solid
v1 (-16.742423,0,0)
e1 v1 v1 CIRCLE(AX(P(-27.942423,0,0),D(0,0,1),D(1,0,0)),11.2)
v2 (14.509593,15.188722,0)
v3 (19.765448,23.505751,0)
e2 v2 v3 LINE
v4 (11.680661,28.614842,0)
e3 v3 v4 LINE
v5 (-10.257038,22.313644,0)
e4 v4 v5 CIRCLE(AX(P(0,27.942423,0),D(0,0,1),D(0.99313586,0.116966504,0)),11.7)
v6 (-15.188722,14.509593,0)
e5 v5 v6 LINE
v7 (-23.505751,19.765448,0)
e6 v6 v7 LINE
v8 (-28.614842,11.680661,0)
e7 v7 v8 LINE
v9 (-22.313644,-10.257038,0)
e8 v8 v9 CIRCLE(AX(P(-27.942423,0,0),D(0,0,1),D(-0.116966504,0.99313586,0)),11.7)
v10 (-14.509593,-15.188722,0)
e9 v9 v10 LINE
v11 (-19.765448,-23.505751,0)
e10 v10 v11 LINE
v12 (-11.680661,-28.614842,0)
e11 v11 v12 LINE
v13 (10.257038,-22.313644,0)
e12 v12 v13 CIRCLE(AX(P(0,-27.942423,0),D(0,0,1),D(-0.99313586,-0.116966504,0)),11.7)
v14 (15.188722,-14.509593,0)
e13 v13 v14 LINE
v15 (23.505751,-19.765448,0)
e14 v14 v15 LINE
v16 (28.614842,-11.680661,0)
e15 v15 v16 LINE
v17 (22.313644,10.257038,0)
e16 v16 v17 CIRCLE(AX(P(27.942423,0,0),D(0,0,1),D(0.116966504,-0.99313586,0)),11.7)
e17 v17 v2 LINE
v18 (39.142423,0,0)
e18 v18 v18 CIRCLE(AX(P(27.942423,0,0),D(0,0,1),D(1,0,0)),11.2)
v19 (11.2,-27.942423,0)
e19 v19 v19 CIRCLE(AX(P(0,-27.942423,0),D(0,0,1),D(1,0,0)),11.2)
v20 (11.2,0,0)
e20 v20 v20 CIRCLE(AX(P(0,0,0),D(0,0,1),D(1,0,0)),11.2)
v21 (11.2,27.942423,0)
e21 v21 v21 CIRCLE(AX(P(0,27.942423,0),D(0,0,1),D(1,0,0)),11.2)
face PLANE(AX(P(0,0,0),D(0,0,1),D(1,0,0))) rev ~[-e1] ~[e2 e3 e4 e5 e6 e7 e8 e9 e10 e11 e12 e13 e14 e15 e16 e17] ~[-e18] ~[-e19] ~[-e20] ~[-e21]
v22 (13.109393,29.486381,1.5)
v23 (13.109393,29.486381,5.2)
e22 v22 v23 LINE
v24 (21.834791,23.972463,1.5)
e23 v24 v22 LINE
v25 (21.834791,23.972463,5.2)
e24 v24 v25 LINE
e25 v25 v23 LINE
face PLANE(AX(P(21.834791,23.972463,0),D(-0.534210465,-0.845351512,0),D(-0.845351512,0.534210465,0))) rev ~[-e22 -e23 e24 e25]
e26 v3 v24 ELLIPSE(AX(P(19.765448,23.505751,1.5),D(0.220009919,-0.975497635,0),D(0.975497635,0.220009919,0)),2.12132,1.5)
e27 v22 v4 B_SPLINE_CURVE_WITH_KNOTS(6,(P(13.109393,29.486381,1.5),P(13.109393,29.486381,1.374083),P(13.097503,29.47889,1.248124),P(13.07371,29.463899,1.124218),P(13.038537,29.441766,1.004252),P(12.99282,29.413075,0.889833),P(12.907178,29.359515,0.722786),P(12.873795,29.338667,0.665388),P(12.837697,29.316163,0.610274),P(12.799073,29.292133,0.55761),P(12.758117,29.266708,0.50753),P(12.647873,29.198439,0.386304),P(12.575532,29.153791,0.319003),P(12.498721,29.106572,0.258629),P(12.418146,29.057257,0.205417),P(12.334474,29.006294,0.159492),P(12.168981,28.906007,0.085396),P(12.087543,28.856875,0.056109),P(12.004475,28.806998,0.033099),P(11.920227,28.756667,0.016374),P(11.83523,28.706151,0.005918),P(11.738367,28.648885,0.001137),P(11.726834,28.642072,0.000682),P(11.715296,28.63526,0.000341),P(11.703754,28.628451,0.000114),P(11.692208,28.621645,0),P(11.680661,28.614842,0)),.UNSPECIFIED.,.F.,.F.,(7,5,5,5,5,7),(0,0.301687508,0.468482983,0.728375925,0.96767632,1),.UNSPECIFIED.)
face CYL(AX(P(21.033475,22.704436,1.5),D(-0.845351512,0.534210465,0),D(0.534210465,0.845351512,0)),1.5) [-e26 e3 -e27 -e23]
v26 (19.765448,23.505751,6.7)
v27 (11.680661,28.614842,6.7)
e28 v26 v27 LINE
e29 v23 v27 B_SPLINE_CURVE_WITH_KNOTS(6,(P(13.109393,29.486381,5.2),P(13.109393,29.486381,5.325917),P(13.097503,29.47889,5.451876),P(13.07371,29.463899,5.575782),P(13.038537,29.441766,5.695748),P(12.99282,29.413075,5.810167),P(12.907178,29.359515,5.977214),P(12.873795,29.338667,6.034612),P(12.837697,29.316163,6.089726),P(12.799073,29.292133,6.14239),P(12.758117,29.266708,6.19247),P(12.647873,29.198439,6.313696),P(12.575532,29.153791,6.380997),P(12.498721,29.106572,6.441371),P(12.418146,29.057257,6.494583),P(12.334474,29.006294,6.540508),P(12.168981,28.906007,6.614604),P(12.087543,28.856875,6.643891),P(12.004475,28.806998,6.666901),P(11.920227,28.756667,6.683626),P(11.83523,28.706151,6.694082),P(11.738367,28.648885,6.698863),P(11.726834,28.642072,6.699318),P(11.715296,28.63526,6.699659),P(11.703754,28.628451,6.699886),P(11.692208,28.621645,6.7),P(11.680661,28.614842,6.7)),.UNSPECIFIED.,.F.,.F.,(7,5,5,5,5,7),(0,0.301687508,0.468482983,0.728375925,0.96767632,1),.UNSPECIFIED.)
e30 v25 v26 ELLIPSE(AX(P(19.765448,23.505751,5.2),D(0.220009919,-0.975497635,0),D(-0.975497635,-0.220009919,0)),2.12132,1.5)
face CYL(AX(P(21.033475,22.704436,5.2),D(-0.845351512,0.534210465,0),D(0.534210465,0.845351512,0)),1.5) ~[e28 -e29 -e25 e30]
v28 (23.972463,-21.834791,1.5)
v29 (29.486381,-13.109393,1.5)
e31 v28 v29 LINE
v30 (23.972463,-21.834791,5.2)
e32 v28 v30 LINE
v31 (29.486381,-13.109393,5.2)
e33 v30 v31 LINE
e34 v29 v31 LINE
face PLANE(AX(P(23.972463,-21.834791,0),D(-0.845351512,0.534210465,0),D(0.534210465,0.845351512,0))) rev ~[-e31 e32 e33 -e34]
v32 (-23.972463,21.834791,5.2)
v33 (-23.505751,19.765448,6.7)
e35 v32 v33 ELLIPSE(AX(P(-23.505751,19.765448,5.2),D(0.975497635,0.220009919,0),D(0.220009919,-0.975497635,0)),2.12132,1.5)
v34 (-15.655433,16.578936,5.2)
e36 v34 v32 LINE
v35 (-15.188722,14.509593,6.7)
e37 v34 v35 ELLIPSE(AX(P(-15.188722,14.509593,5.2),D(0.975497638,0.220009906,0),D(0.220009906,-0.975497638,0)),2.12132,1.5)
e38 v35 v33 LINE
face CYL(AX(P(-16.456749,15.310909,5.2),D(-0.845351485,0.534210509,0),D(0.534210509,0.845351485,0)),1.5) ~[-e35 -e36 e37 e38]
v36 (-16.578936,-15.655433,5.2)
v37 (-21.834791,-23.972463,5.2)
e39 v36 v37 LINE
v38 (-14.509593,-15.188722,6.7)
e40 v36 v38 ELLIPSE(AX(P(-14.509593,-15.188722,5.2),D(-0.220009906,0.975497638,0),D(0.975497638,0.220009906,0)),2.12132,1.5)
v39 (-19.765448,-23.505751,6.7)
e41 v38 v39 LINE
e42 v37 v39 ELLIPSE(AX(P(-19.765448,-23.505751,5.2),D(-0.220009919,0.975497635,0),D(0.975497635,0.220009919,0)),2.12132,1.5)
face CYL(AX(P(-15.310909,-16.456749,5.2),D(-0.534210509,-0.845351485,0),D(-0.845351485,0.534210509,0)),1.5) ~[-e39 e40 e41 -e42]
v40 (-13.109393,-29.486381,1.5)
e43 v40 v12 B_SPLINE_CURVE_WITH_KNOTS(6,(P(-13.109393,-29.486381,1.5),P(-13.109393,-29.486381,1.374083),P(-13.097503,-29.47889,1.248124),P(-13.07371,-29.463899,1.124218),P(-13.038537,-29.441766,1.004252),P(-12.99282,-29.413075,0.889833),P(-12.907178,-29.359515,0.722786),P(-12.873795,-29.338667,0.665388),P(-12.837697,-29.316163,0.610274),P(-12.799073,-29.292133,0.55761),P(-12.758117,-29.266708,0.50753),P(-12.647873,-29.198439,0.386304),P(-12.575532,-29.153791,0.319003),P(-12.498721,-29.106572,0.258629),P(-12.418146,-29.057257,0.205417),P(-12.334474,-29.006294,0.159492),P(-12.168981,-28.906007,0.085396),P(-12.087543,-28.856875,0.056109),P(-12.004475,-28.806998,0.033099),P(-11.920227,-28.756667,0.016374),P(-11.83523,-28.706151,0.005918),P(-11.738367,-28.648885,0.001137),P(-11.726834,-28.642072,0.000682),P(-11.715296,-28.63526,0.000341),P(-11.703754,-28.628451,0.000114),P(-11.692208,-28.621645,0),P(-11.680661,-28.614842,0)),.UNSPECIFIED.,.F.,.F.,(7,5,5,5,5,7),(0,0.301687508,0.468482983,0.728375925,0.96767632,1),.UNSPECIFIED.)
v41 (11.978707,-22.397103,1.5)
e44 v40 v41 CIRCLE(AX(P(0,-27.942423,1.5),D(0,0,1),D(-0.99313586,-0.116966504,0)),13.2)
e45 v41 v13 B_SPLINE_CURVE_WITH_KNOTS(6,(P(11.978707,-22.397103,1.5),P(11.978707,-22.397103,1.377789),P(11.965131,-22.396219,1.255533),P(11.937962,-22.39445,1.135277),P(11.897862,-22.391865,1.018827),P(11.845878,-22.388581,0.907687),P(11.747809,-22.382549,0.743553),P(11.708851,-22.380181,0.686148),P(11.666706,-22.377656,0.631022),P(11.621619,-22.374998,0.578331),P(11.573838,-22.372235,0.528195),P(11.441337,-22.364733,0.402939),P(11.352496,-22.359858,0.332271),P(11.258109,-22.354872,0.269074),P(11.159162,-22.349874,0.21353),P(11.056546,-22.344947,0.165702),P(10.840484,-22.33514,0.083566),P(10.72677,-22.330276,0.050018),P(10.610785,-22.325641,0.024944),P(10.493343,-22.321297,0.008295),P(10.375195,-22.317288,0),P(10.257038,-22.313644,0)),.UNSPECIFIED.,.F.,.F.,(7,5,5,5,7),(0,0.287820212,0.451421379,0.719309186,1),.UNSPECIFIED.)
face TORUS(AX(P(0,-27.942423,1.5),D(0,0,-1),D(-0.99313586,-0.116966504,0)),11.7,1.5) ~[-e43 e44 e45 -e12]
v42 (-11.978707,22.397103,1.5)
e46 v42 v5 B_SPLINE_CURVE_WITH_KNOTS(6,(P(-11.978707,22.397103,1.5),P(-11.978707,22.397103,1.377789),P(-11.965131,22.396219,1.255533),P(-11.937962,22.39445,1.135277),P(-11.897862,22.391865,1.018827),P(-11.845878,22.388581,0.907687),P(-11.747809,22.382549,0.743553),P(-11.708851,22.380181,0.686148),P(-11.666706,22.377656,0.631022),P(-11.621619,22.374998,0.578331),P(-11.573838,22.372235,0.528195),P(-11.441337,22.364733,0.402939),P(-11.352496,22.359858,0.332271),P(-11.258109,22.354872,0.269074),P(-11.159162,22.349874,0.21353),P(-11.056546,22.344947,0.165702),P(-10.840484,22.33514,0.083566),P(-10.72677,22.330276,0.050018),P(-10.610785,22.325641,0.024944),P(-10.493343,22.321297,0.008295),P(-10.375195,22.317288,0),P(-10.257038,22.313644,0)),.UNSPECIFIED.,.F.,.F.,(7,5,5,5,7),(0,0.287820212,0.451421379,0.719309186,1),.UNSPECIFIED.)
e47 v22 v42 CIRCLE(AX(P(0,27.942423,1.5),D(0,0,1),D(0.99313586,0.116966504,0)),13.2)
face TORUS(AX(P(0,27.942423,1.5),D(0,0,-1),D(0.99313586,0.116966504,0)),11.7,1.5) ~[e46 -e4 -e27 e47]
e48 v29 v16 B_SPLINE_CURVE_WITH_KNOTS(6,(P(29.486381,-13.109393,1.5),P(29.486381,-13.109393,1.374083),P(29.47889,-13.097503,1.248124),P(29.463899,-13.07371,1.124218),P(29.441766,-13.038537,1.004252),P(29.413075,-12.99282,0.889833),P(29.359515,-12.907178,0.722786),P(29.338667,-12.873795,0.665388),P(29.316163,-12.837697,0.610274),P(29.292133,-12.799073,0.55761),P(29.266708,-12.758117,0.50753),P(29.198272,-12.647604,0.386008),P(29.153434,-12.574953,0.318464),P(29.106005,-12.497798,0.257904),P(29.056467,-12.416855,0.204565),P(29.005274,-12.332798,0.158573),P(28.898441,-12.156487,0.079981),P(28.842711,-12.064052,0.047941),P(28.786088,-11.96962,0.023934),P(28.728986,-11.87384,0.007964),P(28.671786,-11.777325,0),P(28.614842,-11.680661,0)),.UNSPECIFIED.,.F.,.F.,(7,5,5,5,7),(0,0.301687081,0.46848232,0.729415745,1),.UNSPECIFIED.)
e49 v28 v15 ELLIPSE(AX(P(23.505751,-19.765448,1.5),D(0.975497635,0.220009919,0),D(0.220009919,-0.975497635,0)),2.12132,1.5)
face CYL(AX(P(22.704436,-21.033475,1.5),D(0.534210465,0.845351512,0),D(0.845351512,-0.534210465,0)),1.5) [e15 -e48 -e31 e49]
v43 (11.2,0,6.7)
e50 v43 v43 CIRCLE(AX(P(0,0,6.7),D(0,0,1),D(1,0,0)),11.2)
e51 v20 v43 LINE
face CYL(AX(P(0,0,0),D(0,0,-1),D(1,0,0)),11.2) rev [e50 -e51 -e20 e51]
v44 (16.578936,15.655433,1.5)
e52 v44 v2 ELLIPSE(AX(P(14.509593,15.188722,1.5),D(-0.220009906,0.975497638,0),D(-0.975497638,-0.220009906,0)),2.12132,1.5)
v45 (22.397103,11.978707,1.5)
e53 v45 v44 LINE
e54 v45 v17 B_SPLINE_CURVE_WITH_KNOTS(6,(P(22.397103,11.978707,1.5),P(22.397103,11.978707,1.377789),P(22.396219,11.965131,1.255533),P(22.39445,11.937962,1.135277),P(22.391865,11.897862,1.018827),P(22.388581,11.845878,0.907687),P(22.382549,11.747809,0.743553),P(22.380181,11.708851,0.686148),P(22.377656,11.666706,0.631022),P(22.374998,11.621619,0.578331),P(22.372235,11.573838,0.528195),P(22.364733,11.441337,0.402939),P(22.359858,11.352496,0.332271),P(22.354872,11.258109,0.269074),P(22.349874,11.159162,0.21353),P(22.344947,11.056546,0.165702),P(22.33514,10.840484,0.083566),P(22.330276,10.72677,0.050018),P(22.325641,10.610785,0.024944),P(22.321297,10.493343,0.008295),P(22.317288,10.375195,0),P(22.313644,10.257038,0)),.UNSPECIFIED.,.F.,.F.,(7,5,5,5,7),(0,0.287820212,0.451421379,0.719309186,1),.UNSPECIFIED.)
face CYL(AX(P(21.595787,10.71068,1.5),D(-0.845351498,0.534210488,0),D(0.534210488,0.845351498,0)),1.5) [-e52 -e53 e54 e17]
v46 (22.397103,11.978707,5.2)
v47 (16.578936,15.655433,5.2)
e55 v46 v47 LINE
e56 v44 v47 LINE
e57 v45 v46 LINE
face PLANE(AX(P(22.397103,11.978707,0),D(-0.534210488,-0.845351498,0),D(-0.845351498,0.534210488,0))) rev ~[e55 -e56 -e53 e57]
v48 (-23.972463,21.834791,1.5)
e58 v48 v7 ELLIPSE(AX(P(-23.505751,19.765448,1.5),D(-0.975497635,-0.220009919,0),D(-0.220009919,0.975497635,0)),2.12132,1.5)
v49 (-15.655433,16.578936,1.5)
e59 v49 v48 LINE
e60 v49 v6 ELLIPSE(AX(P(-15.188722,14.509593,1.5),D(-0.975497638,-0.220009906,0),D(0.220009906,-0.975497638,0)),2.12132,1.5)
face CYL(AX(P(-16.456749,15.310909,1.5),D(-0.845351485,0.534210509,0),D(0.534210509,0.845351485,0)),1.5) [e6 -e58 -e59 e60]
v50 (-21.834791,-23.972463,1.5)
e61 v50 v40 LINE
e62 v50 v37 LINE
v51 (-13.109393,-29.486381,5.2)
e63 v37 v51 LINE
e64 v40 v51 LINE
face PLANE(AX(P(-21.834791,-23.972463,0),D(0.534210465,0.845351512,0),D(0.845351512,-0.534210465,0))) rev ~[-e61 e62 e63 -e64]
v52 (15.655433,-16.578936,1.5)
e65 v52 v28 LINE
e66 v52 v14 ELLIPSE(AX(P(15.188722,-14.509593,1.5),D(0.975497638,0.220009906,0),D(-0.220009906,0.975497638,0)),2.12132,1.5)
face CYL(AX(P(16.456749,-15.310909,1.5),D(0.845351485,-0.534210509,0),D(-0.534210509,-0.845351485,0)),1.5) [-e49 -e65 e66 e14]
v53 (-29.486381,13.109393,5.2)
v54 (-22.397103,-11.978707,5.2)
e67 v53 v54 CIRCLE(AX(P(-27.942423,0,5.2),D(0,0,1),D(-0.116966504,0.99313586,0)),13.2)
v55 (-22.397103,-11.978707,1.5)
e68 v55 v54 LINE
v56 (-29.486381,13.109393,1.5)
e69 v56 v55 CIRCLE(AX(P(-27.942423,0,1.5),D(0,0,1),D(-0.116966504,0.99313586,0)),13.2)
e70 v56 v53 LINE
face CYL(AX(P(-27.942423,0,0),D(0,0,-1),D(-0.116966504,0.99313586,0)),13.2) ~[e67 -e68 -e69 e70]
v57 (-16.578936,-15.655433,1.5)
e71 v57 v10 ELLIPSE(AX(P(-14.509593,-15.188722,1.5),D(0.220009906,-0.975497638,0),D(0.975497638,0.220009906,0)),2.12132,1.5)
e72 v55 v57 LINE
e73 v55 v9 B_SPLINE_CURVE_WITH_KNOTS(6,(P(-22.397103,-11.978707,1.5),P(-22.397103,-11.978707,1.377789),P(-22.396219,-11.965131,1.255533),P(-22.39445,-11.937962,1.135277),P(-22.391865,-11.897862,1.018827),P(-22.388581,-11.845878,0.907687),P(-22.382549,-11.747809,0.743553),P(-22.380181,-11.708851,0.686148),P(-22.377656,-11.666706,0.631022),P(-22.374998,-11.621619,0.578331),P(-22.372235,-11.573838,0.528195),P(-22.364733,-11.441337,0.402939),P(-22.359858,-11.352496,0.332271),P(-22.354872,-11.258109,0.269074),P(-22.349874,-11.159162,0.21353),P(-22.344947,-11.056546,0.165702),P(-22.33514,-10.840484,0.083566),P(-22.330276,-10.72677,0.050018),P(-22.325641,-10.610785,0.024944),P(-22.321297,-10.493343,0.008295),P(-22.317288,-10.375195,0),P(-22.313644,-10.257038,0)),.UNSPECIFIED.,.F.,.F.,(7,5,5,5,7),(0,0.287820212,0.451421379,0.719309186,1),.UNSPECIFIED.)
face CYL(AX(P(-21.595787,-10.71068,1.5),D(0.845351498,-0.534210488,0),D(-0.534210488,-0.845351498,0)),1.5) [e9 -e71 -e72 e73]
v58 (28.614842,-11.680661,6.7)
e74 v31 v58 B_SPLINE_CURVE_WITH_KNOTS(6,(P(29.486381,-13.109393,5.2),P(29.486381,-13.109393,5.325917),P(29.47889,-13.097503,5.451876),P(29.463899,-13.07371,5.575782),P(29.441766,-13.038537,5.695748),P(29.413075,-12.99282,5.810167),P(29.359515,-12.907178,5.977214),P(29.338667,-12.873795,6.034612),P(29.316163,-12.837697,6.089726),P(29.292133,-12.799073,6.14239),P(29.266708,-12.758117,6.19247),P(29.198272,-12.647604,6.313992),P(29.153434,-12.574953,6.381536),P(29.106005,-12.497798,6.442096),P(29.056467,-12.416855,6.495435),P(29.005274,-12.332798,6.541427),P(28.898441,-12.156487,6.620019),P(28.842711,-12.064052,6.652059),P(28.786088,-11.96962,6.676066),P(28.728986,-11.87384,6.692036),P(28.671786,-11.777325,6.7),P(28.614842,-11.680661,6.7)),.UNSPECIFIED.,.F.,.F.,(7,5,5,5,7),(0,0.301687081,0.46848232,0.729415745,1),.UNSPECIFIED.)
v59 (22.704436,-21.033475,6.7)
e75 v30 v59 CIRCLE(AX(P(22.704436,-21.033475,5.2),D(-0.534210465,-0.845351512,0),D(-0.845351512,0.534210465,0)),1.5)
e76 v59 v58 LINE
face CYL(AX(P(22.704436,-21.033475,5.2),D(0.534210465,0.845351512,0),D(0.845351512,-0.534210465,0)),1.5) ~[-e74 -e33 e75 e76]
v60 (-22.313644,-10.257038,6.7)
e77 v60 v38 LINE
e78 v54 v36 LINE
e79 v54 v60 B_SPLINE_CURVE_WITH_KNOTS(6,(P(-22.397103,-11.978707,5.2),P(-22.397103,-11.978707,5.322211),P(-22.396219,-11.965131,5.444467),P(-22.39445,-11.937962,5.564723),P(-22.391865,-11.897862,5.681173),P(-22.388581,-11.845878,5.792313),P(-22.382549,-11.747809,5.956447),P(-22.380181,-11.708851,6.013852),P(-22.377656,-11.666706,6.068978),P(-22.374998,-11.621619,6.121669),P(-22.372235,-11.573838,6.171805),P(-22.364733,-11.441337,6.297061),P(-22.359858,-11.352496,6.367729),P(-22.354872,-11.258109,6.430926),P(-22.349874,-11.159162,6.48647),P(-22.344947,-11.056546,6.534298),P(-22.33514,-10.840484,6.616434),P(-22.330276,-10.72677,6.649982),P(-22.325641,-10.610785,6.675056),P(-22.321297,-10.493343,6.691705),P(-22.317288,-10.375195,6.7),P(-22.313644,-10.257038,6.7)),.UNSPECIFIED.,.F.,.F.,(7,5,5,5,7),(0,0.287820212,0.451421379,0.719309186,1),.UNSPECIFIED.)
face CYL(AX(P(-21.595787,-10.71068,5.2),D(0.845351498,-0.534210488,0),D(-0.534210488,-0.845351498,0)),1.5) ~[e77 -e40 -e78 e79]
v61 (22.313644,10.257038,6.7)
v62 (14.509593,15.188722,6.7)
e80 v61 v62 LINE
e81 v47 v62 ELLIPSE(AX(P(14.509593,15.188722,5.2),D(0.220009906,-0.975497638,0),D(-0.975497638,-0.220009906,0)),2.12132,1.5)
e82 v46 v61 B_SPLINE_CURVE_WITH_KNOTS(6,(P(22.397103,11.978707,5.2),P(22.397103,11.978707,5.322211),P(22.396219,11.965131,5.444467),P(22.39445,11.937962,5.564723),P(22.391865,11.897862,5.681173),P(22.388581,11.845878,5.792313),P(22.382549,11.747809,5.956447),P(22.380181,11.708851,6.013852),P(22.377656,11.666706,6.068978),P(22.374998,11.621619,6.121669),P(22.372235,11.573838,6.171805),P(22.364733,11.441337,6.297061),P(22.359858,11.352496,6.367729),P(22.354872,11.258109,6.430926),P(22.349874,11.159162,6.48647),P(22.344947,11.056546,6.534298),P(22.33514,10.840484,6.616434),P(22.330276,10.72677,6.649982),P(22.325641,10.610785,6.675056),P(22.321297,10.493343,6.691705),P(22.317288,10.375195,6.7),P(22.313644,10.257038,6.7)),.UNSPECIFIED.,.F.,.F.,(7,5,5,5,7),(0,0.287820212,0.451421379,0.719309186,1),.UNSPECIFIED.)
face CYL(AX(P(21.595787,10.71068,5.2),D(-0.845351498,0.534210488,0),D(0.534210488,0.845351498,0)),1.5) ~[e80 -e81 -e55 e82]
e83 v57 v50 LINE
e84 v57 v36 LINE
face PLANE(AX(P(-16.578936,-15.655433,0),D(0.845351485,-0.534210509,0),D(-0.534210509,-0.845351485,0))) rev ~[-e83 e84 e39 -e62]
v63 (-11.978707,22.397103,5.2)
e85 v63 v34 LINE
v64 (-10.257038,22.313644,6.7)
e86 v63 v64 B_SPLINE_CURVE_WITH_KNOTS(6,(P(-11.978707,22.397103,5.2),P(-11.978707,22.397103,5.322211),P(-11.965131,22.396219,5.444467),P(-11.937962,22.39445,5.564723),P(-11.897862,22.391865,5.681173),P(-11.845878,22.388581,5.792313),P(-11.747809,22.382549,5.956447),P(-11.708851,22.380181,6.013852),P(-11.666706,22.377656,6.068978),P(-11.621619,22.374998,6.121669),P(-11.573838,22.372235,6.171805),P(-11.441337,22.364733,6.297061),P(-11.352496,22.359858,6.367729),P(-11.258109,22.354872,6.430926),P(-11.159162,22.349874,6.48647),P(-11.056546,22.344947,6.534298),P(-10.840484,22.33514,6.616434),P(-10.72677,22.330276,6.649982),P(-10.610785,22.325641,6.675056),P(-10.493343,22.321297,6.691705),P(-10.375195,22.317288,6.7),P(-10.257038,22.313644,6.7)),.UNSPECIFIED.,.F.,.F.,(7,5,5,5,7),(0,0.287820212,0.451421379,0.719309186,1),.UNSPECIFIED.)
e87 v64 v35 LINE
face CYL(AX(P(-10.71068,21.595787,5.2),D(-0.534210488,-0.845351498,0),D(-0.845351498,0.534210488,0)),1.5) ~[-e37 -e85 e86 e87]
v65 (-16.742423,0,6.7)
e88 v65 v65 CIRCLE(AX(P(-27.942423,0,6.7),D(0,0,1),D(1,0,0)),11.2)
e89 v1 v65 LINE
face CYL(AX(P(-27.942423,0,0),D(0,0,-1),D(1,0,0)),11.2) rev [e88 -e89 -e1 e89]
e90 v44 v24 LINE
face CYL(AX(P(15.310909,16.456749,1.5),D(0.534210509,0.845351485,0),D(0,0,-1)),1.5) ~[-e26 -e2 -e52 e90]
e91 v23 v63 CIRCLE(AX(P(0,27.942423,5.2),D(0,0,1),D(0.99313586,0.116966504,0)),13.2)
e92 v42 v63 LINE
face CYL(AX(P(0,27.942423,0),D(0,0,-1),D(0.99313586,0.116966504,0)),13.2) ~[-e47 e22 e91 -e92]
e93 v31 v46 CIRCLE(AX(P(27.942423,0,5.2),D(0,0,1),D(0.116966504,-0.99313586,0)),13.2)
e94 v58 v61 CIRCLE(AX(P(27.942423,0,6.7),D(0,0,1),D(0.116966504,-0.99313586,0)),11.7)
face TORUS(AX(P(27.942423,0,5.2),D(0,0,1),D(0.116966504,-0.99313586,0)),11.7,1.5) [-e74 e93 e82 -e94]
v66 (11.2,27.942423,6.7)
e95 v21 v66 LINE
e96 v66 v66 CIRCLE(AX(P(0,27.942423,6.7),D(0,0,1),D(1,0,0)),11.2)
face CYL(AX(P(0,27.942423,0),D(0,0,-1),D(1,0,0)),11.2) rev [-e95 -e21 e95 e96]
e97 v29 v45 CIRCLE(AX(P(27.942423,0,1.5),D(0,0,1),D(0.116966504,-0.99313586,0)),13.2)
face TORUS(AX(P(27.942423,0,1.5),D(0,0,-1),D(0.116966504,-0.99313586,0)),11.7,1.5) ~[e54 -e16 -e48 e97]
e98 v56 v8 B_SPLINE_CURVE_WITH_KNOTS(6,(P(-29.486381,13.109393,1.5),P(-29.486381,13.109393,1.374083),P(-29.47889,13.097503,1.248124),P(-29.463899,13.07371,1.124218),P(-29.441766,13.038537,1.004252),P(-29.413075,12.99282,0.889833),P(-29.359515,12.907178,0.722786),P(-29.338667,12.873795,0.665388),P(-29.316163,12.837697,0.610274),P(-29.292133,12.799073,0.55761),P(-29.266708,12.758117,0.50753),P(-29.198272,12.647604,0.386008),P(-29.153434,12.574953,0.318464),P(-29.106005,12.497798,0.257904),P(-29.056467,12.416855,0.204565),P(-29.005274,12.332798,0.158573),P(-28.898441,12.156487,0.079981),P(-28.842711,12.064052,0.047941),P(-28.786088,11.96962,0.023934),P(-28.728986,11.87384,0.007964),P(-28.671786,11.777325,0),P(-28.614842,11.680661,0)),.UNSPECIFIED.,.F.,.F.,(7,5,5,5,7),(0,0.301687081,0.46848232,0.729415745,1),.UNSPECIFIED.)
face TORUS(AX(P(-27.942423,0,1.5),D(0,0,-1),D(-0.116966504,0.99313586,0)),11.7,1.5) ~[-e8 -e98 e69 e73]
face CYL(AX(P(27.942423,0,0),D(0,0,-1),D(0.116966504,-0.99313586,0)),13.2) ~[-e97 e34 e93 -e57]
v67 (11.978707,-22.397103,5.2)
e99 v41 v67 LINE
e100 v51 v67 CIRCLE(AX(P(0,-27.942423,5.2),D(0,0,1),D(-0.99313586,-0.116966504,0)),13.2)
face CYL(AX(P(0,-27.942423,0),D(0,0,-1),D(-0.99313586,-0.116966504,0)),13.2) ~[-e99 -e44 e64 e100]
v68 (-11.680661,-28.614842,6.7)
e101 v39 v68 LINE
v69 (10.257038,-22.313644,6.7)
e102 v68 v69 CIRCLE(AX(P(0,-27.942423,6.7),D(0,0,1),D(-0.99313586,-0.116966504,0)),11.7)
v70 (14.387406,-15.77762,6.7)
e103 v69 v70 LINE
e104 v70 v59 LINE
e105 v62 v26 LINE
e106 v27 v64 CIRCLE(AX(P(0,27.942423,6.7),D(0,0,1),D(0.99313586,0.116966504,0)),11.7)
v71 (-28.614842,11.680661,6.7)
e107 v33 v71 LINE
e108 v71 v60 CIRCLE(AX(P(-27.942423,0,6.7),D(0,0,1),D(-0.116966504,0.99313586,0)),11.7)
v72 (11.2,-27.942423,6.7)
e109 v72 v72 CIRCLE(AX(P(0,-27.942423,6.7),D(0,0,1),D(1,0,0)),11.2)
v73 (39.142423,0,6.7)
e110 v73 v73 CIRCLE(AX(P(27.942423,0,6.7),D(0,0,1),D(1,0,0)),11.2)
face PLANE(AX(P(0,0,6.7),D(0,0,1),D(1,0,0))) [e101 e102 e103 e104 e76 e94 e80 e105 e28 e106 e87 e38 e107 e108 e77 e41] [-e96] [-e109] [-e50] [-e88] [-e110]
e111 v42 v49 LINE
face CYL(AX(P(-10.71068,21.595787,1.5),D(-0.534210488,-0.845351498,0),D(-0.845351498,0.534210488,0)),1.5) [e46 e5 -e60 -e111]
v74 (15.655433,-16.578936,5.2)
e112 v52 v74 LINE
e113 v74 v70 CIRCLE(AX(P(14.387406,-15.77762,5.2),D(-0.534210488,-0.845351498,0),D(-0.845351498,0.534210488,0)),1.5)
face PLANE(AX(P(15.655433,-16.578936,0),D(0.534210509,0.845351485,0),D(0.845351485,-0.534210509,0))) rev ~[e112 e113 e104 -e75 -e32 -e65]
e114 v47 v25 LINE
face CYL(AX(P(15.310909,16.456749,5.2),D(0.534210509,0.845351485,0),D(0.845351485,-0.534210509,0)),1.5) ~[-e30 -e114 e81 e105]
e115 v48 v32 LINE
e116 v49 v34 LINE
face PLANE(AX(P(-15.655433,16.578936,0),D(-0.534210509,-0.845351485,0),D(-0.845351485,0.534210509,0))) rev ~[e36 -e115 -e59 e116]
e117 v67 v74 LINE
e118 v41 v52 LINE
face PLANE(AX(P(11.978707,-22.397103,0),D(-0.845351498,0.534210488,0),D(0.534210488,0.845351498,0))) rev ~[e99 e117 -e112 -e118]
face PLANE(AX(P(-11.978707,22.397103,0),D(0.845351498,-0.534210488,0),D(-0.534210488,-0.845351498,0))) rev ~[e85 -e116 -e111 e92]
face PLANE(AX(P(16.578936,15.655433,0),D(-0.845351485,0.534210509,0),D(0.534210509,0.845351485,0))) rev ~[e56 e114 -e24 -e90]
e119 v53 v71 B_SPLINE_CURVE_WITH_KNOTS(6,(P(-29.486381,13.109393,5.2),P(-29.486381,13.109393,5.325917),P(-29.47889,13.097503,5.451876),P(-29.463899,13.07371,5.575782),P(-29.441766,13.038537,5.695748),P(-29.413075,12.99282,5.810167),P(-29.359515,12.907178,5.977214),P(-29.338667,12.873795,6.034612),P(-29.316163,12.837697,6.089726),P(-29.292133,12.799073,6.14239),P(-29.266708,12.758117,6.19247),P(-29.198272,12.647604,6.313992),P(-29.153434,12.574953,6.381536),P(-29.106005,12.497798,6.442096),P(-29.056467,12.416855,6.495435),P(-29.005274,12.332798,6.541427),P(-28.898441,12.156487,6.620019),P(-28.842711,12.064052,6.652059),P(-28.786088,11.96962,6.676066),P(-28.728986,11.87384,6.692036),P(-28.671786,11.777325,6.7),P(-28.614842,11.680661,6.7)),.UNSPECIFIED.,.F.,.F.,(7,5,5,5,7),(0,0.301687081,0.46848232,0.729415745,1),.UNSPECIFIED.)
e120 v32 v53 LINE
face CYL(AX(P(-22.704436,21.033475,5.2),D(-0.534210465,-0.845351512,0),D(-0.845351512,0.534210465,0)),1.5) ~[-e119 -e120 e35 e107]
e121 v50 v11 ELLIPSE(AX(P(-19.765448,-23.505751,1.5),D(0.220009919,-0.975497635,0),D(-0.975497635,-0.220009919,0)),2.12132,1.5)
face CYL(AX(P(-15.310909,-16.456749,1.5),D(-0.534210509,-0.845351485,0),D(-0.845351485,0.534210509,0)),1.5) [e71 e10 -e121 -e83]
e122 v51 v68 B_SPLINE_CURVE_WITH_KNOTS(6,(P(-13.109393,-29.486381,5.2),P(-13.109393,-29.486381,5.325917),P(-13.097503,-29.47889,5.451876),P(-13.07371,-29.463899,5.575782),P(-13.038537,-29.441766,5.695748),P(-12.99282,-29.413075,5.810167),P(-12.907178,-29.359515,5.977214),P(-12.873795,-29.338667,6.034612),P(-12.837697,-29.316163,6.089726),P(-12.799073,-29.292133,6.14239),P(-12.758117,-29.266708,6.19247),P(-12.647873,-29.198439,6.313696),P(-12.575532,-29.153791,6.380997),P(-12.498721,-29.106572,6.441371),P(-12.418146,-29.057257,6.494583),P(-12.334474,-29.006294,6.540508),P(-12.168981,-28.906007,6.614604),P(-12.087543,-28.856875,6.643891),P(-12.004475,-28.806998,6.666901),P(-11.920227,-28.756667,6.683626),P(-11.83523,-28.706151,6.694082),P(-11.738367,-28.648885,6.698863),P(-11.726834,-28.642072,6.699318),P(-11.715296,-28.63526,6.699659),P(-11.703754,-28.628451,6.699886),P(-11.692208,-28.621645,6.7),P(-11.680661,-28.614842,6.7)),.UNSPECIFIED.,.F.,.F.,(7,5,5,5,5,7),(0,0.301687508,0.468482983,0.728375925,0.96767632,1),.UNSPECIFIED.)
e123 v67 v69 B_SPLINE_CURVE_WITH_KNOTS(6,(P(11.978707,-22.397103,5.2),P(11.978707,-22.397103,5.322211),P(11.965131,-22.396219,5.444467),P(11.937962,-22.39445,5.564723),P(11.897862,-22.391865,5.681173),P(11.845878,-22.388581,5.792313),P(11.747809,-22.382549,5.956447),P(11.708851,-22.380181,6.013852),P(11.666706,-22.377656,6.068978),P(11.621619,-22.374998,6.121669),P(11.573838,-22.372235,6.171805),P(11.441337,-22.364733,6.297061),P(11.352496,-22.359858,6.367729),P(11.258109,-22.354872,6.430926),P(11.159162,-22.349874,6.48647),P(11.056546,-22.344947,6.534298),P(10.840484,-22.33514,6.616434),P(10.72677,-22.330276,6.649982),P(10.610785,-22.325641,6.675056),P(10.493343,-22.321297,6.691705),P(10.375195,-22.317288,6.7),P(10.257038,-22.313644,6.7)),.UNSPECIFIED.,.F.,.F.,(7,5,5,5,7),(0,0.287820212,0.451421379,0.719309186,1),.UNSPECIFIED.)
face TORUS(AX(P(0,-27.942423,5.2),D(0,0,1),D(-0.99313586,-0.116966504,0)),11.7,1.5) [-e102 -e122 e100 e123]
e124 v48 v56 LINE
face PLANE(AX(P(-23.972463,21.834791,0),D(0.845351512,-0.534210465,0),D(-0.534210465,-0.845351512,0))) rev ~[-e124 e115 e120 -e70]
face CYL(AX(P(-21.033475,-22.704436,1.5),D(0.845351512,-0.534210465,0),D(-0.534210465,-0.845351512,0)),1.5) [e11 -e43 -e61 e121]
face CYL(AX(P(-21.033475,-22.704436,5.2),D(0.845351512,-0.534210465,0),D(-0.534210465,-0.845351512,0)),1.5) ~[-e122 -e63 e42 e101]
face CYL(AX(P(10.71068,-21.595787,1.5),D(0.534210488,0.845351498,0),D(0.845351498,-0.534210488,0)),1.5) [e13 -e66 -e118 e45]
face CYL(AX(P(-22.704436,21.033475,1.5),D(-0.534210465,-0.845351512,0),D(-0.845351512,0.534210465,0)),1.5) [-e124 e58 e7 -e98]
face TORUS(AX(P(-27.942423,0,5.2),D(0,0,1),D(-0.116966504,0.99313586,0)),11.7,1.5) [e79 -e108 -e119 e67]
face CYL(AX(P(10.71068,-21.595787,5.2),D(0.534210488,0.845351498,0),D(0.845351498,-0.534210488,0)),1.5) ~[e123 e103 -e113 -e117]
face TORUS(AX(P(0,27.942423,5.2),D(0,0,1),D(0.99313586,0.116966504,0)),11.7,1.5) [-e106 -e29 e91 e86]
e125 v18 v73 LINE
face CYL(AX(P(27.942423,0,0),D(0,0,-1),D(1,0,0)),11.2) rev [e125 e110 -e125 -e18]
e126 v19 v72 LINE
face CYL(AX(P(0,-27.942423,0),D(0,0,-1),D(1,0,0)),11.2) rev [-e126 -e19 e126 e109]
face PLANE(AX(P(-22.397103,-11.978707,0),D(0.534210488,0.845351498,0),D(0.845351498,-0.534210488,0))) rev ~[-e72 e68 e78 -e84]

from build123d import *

# Parameters (mm, degrees)
F0_R     = 11.2
F1_DEPTH = 6.7
F2_R     = 1.5
F3_R     = 1.5


with BuildPart() as f1:
    # F0 (on Top) → F1 (new body)
    with BuildSketch(Plane.XY):
        with BuildLine():
            Line((21.834791, 23.972463), (13.109393, 29.486381))
            ThreePointArc((13.109393, 29.486381), (-3.58944, 40.645018), (-11.978707, 22.397103))
            Line((-11.978707, 22.397103), (-15.655433, 16.578936))
            Line((-15.655433, 16.578936), (-23.972463, 21.834791))
            Line((-23.972463, 21.834791), (-29.486381, 13.109393))
            ThreePointArc((-29.486381, 13.109393), (-40.645018, -3.58944), (-22.397103, -11.978707))
            Line((-22.397103, -11.978707), (-16.578936, -15.655433))
            Line((-16.578936, -15.655433), (-21.834791, -23.972463))
            Line((-21.834791, -23.972463), (-13.109393, -29.486381))
            ThreePointArc((-13.109393, -29.486381), (3.58944, -40.645018), (11.978707, -22.397103))
            Line((11.978707, -22.397103), (15.655433, -16.578936))
            Line((15.655433, -16.578936), (23.972463, -21.834791))
            Line((23.972463, -21.834791), (29.486381, -13.109393))
            ThreePointArc((29.486381, -13.109393), (40.645018, 3.58944), (22.397103, 11.978707))
            Line((22.397103, 11.978707), (16.578936, 15.655433))
            Line((16.578936, 15.655433), (21.834791, 23.972463))
        make_face()
        with Locations((0, -27.942423)):
            Circle(F0_R, mode=Mode.SUBTRACT)
        with Locations((-27.942423, 0)):
            Circle(F0_R, mode=Mode.SUBTRACT)
        Circle(F0_R, mode=Mode.SUBTRACT)
        with Locations((27.942423, 0)):
            Circle(F0_R, mode=Mode.SUBTRACT)
        with Locations((0, 27.942423)):
            Circle(F0_R, mode=Mode.SUBTRACT)
    extrude(amount=F1_DEPTH)

    # F2
    f2_edges = [f1.edges().sort_by_distance(p)[0] for p in [
        (17.472092, 26.729422, 6.7),
        (-3.58944, 40.645018, 6.7),
        (19.488019, 13.81707, 6.7),
        (19.206863, 19.813948, 6.7),
        (40.645018, 3.58944, 6.7),
        (26.729422, -17.472092, 6.7),
        (13.81707, -19.488019, 6.7),
        (3.58944, -40.645018, 6.7),
        (-17.472092, -26.729422, 6.7),
        (-19.488019, -13.81707, 6.7),
        (-19.206863, -19.813948, 6.7),
        (-40.645018, -3.58944, 6.7),
        (-26.729422, 17.472092, 6.7),
        (-13.81707, 19.488019, 6.7),
        (-19.813948, 19.206863, 6.7),
    ]]
    fillet(f2_edges, radius=F2_R)

    # F3
    f3_edges = [f1.edges().sort_by_distance(p)[0] for p in [
        (3.58944, -40.645018, 0),
        (13.81707, -19.488019, 0),
        (19.813948, -19.206863, 0),
        (40.645018, 3.58944, 0),
        (26.729422, -17.472092, 0),
        (19.488019, 13.81707, 0),
        (19.206863, 19.813948, 0),
        (17.472092, 26.729422, 0),
        (-3.58944, 40.645018, 0),
        (-13.81707, 19.488019, 0),
        (-19.813948, 19.206863, 0),
        (-26.729422, 17.472092, 0),
        (-40.645018, -3.58944, 0),
        (-19.488019, -13.81707, 0),
        (-19.206863, -19.813948, 0),
        (-17.472092, -26.729422, 0),
    ]]
    fillet(f3_edges, radius=F3_R)


solid = f1.part
